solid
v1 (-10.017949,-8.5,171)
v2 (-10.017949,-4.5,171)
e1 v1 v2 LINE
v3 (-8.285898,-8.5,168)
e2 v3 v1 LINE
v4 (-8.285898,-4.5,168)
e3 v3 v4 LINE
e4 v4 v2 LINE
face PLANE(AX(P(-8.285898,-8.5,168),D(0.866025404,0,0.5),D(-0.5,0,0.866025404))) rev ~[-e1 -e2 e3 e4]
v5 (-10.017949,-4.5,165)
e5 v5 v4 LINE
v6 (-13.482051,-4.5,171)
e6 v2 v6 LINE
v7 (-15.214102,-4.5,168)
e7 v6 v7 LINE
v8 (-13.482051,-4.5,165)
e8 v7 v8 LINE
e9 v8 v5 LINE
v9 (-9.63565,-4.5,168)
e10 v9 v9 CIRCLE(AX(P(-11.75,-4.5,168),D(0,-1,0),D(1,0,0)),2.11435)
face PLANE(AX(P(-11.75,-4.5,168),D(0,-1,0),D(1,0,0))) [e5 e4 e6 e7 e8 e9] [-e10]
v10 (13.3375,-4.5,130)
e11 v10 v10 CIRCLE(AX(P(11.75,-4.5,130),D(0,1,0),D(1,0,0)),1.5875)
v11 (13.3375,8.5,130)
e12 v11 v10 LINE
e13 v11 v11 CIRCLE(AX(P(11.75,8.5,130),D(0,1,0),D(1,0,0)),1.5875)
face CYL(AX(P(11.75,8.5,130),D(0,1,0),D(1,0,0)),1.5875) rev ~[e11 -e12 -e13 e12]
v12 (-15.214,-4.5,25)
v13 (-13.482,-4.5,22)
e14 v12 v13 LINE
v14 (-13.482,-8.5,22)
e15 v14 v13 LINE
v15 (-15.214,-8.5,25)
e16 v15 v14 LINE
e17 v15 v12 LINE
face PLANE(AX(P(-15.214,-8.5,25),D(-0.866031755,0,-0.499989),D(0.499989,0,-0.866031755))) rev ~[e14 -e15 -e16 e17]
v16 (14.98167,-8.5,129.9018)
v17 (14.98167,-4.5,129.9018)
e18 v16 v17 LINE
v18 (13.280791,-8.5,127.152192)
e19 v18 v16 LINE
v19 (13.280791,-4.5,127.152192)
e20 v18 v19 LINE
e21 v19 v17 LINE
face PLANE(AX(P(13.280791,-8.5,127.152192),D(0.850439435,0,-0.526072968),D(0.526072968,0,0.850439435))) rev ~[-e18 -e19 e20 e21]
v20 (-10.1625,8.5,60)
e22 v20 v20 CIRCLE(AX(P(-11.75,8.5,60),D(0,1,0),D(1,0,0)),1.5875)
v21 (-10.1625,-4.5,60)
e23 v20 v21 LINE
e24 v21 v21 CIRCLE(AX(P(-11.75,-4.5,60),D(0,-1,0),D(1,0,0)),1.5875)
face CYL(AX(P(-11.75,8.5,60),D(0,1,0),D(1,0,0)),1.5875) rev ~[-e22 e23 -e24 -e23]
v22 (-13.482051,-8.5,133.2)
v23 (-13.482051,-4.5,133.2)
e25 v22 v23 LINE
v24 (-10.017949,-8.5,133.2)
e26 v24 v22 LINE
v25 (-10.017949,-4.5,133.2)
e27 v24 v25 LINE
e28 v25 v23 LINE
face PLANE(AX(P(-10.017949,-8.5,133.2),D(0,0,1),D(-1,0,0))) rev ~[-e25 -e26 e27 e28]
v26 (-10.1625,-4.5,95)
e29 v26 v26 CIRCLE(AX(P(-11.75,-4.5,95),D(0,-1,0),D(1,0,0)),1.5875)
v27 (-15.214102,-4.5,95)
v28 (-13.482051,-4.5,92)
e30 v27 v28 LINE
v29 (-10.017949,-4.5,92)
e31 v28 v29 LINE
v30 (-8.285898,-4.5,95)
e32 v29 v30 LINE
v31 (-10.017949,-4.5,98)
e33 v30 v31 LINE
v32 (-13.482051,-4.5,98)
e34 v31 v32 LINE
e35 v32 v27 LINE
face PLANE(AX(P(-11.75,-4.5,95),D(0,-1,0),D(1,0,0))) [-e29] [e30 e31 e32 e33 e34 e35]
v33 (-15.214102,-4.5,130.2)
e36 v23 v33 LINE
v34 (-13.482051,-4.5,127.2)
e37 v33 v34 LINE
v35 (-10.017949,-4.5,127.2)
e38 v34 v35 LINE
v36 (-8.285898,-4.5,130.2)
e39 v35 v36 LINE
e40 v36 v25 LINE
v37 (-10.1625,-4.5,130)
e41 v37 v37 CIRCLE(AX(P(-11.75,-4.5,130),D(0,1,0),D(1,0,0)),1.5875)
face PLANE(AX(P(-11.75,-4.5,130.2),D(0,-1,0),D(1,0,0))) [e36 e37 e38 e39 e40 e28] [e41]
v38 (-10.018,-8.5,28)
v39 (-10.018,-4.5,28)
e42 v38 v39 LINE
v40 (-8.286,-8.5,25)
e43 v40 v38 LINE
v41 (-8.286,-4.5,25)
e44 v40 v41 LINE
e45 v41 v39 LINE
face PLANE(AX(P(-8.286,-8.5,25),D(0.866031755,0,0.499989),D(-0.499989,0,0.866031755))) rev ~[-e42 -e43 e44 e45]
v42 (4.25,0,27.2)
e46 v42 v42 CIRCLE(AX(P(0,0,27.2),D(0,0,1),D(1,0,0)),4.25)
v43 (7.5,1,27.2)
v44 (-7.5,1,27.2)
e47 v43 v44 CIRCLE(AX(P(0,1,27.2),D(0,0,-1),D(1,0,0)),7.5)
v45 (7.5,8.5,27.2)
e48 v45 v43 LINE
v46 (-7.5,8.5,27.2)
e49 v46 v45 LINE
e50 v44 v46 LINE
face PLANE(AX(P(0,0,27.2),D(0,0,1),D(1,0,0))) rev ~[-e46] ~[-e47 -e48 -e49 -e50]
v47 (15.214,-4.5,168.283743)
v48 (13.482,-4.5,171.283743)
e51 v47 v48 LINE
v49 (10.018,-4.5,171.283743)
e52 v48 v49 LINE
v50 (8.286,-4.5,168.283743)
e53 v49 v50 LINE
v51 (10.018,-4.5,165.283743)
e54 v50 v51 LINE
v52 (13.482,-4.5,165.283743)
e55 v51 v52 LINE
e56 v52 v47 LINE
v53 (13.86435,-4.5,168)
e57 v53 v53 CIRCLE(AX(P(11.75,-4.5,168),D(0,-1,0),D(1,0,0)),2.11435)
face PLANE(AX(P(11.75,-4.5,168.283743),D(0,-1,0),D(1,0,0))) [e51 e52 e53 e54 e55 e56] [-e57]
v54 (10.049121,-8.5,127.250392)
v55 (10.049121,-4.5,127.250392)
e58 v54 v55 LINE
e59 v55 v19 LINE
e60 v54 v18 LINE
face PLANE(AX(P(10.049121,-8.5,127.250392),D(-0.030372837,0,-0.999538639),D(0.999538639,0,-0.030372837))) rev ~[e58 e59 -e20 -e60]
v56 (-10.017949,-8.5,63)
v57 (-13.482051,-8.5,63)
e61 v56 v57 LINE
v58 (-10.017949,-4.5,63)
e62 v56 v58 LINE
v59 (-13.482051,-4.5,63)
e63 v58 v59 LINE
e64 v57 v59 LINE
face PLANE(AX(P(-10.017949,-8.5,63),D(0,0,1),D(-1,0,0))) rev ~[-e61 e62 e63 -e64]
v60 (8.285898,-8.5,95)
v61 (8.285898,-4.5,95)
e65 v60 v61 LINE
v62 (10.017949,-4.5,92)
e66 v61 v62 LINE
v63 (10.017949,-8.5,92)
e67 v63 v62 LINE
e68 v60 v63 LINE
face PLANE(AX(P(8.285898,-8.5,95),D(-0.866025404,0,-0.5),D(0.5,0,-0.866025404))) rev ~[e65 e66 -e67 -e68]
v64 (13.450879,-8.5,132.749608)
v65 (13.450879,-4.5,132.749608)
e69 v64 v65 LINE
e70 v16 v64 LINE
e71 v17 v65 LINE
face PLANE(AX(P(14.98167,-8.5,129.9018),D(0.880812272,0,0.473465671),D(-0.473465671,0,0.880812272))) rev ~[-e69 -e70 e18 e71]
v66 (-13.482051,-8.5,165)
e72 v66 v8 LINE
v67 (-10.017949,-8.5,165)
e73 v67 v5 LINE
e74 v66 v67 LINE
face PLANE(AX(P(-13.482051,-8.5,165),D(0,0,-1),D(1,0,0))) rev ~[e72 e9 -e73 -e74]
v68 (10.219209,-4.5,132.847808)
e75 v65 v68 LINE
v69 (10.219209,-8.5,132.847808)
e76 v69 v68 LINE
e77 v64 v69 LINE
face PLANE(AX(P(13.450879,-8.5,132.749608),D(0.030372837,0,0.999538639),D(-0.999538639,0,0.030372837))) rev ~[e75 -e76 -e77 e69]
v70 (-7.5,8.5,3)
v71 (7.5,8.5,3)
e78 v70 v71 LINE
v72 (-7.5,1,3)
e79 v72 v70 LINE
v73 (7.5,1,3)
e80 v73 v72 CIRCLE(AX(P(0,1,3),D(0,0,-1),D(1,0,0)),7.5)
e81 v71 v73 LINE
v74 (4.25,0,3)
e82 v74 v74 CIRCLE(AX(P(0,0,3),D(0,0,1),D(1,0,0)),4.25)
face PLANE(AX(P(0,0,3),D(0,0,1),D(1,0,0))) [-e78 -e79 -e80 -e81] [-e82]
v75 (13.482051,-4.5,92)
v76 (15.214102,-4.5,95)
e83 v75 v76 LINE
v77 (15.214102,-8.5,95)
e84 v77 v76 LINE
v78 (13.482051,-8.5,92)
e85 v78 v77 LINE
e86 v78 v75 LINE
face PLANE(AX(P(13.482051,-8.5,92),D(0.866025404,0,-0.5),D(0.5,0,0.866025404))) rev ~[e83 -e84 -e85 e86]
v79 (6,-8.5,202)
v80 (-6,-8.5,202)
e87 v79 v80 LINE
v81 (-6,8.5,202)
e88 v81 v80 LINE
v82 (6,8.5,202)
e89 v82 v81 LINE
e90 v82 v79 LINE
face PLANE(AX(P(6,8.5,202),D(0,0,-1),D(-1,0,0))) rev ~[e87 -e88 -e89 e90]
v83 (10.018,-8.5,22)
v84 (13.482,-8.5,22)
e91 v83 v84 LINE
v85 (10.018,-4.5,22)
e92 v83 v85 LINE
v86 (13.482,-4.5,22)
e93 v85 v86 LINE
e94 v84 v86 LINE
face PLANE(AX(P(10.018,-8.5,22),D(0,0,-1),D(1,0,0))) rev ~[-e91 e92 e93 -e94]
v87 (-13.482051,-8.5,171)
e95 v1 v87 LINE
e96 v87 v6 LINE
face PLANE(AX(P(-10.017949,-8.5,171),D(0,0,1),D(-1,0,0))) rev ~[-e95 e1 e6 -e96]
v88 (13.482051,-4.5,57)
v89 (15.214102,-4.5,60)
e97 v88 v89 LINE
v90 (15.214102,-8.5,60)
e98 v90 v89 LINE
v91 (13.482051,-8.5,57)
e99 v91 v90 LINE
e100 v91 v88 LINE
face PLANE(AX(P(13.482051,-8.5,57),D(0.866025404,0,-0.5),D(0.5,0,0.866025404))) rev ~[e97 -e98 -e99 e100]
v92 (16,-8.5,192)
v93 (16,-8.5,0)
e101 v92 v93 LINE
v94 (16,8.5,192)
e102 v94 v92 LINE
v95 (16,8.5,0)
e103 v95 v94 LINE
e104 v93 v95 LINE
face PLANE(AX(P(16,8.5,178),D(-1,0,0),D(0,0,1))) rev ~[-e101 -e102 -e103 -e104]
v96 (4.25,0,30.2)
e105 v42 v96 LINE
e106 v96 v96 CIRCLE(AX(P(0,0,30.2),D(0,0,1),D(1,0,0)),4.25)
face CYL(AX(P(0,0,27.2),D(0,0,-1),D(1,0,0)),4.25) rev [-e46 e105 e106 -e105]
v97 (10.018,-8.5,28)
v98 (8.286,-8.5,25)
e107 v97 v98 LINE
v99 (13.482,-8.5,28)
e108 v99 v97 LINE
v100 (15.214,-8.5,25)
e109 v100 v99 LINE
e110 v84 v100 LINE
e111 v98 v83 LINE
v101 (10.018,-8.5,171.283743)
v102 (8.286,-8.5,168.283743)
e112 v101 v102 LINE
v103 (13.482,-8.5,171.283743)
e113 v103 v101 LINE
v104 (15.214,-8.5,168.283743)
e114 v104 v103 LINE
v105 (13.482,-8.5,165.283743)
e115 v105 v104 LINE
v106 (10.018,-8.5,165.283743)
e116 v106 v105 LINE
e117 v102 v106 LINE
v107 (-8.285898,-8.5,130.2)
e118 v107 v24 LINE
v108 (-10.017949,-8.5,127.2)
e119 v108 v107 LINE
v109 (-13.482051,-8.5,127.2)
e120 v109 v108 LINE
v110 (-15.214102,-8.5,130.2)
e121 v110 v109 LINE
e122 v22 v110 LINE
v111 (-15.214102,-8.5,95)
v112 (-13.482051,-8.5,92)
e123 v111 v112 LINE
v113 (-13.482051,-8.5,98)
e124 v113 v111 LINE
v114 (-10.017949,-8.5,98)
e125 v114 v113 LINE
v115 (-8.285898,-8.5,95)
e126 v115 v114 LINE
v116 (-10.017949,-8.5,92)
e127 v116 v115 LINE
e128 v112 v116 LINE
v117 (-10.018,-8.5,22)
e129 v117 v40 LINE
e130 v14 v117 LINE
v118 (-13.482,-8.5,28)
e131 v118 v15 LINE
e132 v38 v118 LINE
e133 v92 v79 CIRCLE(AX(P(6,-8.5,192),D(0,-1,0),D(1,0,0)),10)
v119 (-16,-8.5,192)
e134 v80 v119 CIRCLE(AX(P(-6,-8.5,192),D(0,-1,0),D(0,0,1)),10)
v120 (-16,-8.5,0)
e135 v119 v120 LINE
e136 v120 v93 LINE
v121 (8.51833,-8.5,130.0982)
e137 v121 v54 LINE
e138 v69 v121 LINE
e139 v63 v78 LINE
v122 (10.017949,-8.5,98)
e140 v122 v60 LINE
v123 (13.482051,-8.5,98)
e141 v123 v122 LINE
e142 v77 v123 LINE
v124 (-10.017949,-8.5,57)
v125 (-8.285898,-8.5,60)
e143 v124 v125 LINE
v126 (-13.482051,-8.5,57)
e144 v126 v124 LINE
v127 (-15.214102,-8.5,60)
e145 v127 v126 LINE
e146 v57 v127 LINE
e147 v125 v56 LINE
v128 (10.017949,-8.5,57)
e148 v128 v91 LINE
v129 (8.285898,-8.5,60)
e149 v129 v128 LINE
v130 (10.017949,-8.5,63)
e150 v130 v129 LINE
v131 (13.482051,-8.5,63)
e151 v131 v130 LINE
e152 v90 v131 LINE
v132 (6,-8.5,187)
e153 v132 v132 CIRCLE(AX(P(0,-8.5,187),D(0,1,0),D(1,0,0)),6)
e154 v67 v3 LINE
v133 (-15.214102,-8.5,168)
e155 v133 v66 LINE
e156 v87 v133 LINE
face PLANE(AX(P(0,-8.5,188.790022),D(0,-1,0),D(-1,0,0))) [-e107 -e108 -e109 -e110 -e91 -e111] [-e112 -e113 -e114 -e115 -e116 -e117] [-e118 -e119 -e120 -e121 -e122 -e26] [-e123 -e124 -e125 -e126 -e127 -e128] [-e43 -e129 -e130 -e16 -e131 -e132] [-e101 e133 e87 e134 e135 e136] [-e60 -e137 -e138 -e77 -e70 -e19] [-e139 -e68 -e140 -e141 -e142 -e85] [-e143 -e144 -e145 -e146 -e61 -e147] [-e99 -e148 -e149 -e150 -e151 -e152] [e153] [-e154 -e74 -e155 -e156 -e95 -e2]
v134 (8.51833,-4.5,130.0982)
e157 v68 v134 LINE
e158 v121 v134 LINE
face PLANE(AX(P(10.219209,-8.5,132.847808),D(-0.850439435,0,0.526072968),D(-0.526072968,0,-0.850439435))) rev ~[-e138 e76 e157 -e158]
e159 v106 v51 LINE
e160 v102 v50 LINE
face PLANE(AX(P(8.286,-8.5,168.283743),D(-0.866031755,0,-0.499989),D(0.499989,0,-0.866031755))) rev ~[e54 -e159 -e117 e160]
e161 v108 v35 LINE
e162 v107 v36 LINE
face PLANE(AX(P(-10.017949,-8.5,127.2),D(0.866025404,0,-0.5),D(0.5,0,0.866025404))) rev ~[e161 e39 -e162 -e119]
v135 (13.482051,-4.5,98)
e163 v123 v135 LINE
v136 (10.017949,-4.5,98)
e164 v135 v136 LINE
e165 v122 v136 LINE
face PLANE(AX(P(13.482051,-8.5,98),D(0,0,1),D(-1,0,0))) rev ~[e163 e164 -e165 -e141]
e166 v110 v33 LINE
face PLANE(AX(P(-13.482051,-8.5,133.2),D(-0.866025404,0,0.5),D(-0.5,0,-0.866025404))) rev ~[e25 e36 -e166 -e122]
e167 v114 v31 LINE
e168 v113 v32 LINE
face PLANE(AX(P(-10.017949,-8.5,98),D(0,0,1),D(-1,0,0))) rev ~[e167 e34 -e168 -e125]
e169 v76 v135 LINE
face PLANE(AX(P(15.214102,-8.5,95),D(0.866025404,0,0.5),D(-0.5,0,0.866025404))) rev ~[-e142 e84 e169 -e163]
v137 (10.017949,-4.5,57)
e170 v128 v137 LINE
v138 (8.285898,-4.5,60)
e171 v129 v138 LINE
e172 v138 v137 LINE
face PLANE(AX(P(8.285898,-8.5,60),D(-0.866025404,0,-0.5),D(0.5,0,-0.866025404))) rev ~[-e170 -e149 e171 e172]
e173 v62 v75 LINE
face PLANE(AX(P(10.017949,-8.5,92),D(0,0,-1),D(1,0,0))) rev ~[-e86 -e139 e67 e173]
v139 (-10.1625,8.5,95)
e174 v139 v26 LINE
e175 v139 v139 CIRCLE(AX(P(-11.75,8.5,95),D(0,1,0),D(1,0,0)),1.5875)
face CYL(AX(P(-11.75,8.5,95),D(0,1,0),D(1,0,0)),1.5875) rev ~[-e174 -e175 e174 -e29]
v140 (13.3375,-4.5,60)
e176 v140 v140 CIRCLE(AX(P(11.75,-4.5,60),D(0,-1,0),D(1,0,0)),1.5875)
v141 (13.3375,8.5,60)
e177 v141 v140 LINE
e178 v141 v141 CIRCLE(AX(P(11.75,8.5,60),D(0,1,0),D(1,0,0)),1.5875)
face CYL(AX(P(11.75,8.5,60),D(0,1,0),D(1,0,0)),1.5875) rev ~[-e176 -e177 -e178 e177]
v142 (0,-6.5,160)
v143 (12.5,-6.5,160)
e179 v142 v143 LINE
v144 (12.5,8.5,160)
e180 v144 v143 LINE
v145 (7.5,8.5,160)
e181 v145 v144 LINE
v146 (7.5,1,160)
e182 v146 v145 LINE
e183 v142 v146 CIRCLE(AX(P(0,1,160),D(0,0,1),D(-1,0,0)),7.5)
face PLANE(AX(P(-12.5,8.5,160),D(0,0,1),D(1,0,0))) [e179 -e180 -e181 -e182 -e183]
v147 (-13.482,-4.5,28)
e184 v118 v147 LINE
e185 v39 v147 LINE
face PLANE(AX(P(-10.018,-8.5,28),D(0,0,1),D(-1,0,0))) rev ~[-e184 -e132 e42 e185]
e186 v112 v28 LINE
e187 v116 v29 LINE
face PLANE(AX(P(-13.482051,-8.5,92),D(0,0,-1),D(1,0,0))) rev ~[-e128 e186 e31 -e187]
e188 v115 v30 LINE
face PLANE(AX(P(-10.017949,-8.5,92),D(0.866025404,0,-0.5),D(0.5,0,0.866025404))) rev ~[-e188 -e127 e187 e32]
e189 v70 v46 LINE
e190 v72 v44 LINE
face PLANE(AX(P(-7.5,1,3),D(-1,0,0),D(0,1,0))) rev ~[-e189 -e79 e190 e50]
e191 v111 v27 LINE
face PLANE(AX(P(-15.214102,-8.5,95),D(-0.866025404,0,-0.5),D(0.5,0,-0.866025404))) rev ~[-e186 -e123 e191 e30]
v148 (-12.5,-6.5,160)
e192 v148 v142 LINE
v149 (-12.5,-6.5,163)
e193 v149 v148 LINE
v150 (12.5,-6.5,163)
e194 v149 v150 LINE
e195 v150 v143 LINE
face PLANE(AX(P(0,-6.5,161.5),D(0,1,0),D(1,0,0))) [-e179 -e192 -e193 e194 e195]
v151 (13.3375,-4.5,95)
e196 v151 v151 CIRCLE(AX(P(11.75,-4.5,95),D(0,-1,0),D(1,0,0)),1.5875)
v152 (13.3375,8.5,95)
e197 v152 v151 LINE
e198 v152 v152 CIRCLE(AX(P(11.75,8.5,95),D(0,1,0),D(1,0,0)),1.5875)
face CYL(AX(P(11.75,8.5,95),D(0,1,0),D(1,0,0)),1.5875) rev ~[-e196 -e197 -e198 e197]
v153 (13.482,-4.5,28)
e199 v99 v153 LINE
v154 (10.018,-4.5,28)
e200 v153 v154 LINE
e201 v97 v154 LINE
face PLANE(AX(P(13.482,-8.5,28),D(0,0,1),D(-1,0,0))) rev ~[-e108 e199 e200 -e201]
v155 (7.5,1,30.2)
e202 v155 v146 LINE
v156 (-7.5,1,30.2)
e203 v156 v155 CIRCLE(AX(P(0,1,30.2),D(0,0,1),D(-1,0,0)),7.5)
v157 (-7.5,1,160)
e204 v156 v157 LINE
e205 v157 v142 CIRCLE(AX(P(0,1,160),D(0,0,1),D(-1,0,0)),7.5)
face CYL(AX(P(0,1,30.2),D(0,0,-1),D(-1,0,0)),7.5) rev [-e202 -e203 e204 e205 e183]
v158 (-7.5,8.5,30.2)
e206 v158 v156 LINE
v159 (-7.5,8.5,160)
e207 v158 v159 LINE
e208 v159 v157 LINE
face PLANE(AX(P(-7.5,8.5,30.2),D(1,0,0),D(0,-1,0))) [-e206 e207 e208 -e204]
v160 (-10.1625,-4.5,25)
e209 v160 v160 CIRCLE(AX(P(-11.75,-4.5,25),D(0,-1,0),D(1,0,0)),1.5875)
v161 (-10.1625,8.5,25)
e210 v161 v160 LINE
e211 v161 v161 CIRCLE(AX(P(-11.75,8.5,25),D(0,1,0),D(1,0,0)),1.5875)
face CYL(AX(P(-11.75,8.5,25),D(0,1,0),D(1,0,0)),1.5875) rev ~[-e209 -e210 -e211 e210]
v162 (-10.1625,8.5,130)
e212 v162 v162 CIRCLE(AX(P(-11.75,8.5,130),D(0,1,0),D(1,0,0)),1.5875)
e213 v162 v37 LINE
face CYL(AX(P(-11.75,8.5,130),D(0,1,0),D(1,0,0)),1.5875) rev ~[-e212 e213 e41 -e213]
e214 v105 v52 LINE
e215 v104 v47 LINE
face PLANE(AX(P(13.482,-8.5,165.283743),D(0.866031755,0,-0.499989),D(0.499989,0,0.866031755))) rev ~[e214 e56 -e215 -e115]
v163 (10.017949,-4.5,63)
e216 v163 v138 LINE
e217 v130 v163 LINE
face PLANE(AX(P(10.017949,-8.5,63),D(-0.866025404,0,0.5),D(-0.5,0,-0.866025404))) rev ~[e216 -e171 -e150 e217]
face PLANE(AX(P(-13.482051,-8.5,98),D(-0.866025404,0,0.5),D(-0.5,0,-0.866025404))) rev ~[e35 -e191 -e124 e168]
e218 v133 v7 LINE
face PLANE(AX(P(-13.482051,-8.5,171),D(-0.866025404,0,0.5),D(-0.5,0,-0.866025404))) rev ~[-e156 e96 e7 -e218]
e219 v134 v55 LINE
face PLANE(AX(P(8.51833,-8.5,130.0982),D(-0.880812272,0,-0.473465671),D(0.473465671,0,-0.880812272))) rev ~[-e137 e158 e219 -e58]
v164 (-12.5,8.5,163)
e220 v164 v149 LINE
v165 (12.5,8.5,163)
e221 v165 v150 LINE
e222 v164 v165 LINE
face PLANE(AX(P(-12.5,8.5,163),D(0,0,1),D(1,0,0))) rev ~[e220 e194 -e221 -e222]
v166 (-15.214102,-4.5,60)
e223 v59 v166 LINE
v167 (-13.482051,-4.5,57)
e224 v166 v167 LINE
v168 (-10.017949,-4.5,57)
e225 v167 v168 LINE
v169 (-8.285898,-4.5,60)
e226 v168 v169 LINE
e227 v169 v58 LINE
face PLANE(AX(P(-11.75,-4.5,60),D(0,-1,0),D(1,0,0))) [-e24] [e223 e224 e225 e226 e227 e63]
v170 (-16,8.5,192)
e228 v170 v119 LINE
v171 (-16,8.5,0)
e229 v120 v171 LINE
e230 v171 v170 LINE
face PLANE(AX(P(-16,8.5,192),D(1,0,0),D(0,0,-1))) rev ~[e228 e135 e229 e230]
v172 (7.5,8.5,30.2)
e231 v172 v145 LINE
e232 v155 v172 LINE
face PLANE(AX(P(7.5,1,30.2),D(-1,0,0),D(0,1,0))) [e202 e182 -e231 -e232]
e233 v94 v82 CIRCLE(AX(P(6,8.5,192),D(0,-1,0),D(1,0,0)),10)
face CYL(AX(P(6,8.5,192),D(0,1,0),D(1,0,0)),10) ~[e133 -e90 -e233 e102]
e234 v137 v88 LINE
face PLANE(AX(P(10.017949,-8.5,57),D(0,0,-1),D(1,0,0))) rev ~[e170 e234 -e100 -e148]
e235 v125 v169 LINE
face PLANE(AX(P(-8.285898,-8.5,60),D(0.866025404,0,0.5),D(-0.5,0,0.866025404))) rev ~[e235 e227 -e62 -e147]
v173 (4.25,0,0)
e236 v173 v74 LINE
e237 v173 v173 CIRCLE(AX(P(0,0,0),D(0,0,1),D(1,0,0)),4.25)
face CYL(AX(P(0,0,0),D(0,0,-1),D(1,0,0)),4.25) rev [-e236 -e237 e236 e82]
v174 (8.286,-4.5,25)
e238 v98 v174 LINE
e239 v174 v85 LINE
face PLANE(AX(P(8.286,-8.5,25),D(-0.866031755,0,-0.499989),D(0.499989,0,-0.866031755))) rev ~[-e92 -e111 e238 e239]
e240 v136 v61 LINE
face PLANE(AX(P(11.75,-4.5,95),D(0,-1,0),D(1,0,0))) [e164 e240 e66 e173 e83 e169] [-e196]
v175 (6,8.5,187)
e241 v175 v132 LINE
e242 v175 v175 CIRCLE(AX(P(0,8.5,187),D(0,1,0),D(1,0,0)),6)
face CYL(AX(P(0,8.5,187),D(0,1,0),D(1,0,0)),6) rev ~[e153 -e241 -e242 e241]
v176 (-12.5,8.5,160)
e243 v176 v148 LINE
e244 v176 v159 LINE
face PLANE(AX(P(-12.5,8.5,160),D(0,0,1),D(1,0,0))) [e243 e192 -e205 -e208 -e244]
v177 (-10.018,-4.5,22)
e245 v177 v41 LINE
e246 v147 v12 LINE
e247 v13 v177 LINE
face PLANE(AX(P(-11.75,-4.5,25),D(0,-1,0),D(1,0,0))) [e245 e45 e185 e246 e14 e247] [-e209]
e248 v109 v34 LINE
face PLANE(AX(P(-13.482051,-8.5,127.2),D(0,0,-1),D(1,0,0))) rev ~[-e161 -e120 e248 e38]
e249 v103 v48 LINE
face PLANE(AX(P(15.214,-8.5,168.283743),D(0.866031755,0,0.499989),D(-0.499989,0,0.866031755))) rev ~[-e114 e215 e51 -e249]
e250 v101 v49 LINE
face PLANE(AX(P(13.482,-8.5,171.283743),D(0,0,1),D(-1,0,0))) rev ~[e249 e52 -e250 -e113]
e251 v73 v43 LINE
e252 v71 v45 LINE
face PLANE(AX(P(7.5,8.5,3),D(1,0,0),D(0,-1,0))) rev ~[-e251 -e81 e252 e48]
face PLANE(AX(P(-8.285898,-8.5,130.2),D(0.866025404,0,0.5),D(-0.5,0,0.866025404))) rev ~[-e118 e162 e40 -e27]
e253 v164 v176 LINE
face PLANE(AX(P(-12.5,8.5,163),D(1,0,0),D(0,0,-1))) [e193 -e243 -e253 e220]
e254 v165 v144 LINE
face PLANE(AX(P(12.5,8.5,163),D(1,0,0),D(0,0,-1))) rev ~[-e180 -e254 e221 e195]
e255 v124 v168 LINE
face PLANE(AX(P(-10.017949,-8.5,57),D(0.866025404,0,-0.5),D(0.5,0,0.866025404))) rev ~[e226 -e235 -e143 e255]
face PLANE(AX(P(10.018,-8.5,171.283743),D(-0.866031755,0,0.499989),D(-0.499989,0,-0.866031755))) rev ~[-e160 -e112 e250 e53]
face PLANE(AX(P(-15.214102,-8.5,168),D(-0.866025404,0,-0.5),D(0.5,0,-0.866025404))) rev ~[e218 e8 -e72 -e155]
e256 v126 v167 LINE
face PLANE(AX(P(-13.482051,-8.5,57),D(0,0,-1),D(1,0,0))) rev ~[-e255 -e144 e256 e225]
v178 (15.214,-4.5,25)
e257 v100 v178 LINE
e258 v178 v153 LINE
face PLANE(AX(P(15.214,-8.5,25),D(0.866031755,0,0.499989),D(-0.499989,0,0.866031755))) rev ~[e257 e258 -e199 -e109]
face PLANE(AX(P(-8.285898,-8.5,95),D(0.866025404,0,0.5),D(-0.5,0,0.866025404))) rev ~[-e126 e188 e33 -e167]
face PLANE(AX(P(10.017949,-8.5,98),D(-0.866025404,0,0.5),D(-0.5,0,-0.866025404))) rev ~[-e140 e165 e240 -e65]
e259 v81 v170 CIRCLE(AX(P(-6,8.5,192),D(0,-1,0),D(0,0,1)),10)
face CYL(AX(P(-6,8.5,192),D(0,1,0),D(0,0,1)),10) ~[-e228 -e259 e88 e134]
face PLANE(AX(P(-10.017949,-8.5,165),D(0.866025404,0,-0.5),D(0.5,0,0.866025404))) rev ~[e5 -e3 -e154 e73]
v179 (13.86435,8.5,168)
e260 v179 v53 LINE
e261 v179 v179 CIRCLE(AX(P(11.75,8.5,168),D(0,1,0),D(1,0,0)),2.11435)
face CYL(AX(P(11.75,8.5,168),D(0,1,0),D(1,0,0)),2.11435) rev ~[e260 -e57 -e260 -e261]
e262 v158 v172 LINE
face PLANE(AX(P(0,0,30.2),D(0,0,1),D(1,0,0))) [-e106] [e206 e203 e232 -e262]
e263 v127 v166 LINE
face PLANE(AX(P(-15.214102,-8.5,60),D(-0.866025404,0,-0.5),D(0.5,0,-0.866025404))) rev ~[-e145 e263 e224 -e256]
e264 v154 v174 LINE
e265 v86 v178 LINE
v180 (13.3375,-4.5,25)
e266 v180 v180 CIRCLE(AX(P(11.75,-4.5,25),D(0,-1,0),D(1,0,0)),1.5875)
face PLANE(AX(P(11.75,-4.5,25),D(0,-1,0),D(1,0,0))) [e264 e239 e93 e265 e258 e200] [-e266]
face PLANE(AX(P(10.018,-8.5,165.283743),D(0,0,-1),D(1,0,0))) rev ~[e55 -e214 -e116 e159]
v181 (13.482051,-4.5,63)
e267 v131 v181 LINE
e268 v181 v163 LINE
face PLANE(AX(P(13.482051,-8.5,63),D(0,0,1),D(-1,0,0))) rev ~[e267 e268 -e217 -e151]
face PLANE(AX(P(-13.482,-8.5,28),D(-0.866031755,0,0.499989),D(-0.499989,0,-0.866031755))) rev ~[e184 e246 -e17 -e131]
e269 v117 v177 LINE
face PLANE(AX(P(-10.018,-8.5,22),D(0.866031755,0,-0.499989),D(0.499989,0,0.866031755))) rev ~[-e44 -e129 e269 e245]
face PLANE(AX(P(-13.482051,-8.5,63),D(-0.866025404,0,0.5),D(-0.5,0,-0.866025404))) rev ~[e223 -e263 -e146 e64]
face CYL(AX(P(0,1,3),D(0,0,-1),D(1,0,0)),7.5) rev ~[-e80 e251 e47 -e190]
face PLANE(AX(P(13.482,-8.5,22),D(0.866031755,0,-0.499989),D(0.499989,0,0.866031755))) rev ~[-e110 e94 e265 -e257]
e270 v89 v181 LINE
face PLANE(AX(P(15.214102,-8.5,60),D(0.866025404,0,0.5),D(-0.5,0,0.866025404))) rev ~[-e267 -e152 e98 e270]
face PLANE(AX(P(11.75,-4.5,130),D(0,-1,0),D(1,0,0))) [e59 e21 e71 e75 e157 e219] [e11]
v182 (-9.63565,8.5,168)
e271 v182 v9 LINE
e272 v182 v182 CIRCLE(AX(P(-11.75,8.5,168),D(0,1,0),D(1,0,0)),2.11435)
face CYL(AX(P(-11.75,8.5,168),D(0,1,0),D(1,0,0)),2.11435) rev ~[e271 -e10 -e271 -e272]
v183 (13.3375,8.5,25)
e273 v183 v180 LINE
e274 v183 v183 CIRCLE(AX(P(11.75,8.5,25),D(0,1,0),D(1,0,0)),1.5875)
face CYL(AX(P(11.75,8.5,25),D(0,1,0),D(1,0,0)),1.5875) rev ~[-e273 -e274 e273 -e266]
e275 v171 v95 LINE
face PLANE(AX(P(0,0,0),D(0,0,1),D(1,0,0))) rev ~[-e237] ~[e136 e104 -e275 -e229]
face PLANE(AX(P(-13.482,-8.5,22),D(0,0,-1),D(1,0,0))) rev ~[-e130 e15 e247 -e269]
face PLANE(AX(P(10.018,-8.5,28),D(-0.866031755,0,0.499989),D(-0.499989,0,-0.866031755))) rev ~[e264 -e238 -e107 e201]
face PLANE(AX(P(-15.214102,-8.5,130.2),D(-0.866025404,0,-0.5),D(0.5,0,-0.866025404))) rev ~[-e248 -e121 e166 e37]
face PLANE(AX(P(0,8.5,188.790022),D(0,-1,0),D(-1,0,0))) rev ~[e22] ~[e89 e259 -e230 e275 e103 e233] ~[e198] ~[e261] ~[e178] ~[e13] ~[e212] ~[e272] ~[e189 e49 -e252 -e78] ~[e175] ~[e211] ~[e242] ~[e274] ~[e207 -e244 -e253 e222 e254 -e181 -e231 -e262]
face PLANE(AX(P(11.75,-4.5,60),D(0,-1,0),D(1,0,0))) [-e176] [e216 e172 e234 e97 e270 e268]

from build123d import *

# Parameters (mm, degrees)
SKETCH1_W           = 32
SKETCH1_H           = 17
SKETCH1_R           = 4.25
BOSS_EXTRUDE1_DEPTH = 3
BOSS_EXTRUDE2_DEPTH = 24.2
SKETCH3_W           = 32
SKETCH3_H           = 17
SKETCH3_R           = 4.25
BOSS_EXTRUDE3_DEPTH = 3
BOSS_EXTRUDE4_DEPTH = 129.8
SKETCH5_W           = 32
SKETCH5_H           = 17
BOSS_EXTRUDE5_DEPTH = 18
SKETCH6_W           = 25
SKETCH6_H           = 3
CUT_EXTRUDE1_DEPTH  = 15
BOSS_EXTRUDE6_DEPTH = 17
SKETCH8_R           = 6
CUT_EXTRUDE2_DEPTH  = 46
SKETCH9_R           = 1.5875
SKETCH9_R_2         = 2.114349704
CUT_EXTRUDE3_DEPTH  = 46
SKETCH10_R          = 1.5875
SKETCH10_R_2        = 2.114349704
CUT_EXTRUDE4_DEPTH  = 4


with BuildPart() as part:
    # Sketch1 → Boss-Extrude1 (new body)
    with BuildSketch(Plane.XY):
        Rectangle(SKETCH1_W, SKETCH1_H)
        Circle(SKETCH1_R, mode=Mode.SUBTRACT)
    extrude(amount=BOSS_EXTRUDE1_DEPTH)

    # Sketch2 → Boss-Extrude2 (add)
    with BuildSketch(Plane.XY.offset(3)):
        with BuildLine():
            Line((-7.5, 1), (-7.5, 8.5))
            Line((-7.5, 8.5), (-16, 8.5))
            Line((-16, 8.5), (-16, -8.5))
            Line((-16, -8.5), (16, -8.5))
            Line((16, -8.5), (16, 8.5))
            Line((16, 8.5), (7.5, 8.5))
            Line((7.5, 8.5), (7.5, 1))
            ThreePointArc((7.5, 1), (0, -6.5), (-7.5, 1))
        make_face()
    extrude(amount=BOSS_EXTRUDE2_DEPTH)

    # Sketch3 → Boss-Extrude3 (add)
    with BuildSketch(Plane.XY.offset(27.2)):
        Rectangle(SKETCH3_W, SKETCH3_H)
        Circle(SKETCH3_R, mode=Mode.SUBTRACT)
    extrude(amount=BOSS_EXTRUDE3_DEPTH)

    # Sketch4 → Boss-Extrude4 (add)
    with BuildSketch(Plane.XY.offset(30.2)):
        with BuildLine():
            Line((16, -8.5), (-16, -8.5))
            Line((-16, -8.5), (-16, 8.5))
            Line((-16, 8.5), (-7.5, 8.5))
            Line((-7.5, 8.5), (-7.5, 1))
            ThreePointArc((-7.5, 1), (0, -6.5), (7.5, 1))
            Line((7.5, 1), (7.5, 8.5))
            Line((7.5, 8.5), (16, 8.5))
            Line((16, 8.5), (16, -8.5))
        make_face()
    extrude(amount=BOSS_EXTRUDE4_DEPTH)

    # Sketch5 → Boss-Extrude5 (add)
    with BuildSketch(Plane.XY.offset(160)):
        Rectangle(SKETCH5_W, SKETCH5_H)
    extrude(amount=BOSS_EXTRUDE5_DEPTH)

    # Sketch6 → Cut-Extrude1 (cut)
    with BuildSketch(Plane(origin=(0, 8.5, 0), x_dir=(1, 0, 0), z_dir=(0, 1, 0))):
        with Locations((0, -161.5)):
            Rectangle(SKETCH6_W, SKETCH6_H)
    extrude(amount=-CUT_EXTRUDE1_DEPTH, mode=Mode.SUBTRACT)

    # Sketch7 → Boss-Extrude6 (add)
    with BuildSketch(Plane(origin=(0, 8.5, 0), x_dir=(1, 0, 0), z_dir=(0, 1, 0))):
        with BuildLine():
            Line((-16, -178), (16, -178))
            Line((16, -178), (16, -192))
            ThreePointArc((16, -192), (13.071067812, -199.071067812), (6, -202))
            Line((6, -202), (-6, -202))
            ThreePointArc((-6, -202), (-13.071067812, -199.071067812), (-16, -192))
            Line((-16, -192), (-16, -178))
        make_face()
    extrude(amount=-BOSS_EXTRUDE6_DEPTH)

    # Sketch8 → Cut-Extrude2 (cut)
    with BuildSketch(Plane(origin=(0, 8.5, 0), x_dir=(1, 0, 0), z_dir=(0, 1, 0))):
        with Locations((0, -187)):
            Circle(SKETCH8_R)
    extrude(amount=-CUT_EXTRUDE2_DEPTH, mode=Mode.SUBTRACT)

    # Sketch9 → Cut-Extrude3 (cut)
    with BuildSketch(Plane(origin=(0, 8.5, 0), x_dir=(1, 0, 0), z_dir=(0, 1, 0))):
        with Locations((11.75, -130)):
            Circle(SKETCH9_R)
        with Locations((-11.75, -130)):
            Circle(SKETCH9_R)
        with Locations((11.75, -95)):
            Circle(SKETCH9_R)
        with Locations((-11.75, -95)):
            Circle(SKETCH9_R)
        with Locations((11.75, -60)):
            Circle(SKETCH9_R)
        with Locations((11.75, -25)):
            Circle(SKETCH9_R)
        with Locations((-11.75, -25)):
            Circle(SKETCH9_R)
        with Locations((-11.75, -60)):
            Circle(SKETCH9_R)
        with Locations((11.75, -168)):
            Circle(SKETCH9_R_2)
        with Locations((-11.75, -168)):
            Circle(SKETCH9_R_2)
    extrude(amount=-CUT_EXTRUDE3_DEPTH, mode=Mode.SUBTRACT)

    # Sketch10 → Cut-Extrude4 (cut)
    with BuildSketch(Plane.XZ.offset(8.5)):
        Polygon((-15.214, 25), (-13.482, 22), (-10.018, 22), (-8.286, 25), (-10.018, 28), (-13.482, 28), align=None)
        with Locations((-11.75, 25)):
            Circle(SKETCH10_R, mode=Mode.SUBTRACT)
        Polygon((13.482, 28), (10.018, 28), (8.286, 25), (10.018, 22), (13.482, 22), (15.214, 25), align=None)
        with Locations((11.75, 25)):
            Circle(SKETCH10_R, mode=Mode.SUBTRACT)
        Polygon((13.482, 171.283743046), (10.018, 171.283743046), (8.286, 168.283743046), (10.018, 165.283743046), (13.482, 165.283743046), (15.214, 168.283743046), align=None)
        with Locations((11.75, 168)):
            Circle(SKETCH10_R_2, mode=Mode.SUBTRACT)
        Polygon((-10.017949192, 57), (-8.285898385, 60), (-10.017949192, 63), (-13.482050808, 63), (-15.214101615, 60), (-13.482050808, 57), align=None)
        with Locations((-11.75, 60)):
            Circle(SKETCH10_R, mode=Mode.SUBTRACT)
        Polygon((13.482050808, 57), (15.214101615, 60), (13.482050808, 63), (10.017949192, 63), (8.285898385, 60), (10.017949192, 57), align=None)
        with Locations((11.75, 60)):
            Circle(SKETCH10_R, mode=Mode.SUBTRACT)
        Polygon((13.482050808, 92), (15.214101615, 95), (13.482050808, 98), (10.017949192, 98), (8.285898385, 95), (10.017949192, 92), align=None)
        with Locations((11.75, 95)):
            Circle(SKETCH10_R, mode=Mode.SUBTRACT)
        Polygon((-10.017949192, 92), (-8.285898385, 95), (-10.017949192, 98), (-13.482050808, 98), (-15.214101615, 95), (-13.482050808, 92), align=None)
        with Locations((-11.75, 95)):
            Circle(SKETCH10_R, mode=Mode.SUBTRACT)
        Polygon((-10.017949192, 127.2), (-8.285898385, 130.2), (-10.017949192, 133.2), (-13.482050808, 133.2), (-15.214101615, 130.2), (-13.482050808, 127.2), align=None)
        Polygon((-10.017949192, 165), (-8.285898385, 168), (-10.017949192, 171), (-13.482050808, 171), (-15.214101615, 168), (-13.482050808, 165), align=None)
        with Locations((-11.75, 168)):
            Circle(SKETCH10_R_2, mode=Mode.SUBTRACT)
        Polygon((10.04912113, 127.250391955), (13.280790983, 127.152191667), (14.981669853, 129.901799713), (13.45087887, 132.749608045), (10.219209017, 132.847808333), (8.518330147, 130.098200287), align=None)
    extrude(amount=-CUT_EXTRUDE4_DEPTH, mode=Mode.SUBTRACT)


solid = part.part
